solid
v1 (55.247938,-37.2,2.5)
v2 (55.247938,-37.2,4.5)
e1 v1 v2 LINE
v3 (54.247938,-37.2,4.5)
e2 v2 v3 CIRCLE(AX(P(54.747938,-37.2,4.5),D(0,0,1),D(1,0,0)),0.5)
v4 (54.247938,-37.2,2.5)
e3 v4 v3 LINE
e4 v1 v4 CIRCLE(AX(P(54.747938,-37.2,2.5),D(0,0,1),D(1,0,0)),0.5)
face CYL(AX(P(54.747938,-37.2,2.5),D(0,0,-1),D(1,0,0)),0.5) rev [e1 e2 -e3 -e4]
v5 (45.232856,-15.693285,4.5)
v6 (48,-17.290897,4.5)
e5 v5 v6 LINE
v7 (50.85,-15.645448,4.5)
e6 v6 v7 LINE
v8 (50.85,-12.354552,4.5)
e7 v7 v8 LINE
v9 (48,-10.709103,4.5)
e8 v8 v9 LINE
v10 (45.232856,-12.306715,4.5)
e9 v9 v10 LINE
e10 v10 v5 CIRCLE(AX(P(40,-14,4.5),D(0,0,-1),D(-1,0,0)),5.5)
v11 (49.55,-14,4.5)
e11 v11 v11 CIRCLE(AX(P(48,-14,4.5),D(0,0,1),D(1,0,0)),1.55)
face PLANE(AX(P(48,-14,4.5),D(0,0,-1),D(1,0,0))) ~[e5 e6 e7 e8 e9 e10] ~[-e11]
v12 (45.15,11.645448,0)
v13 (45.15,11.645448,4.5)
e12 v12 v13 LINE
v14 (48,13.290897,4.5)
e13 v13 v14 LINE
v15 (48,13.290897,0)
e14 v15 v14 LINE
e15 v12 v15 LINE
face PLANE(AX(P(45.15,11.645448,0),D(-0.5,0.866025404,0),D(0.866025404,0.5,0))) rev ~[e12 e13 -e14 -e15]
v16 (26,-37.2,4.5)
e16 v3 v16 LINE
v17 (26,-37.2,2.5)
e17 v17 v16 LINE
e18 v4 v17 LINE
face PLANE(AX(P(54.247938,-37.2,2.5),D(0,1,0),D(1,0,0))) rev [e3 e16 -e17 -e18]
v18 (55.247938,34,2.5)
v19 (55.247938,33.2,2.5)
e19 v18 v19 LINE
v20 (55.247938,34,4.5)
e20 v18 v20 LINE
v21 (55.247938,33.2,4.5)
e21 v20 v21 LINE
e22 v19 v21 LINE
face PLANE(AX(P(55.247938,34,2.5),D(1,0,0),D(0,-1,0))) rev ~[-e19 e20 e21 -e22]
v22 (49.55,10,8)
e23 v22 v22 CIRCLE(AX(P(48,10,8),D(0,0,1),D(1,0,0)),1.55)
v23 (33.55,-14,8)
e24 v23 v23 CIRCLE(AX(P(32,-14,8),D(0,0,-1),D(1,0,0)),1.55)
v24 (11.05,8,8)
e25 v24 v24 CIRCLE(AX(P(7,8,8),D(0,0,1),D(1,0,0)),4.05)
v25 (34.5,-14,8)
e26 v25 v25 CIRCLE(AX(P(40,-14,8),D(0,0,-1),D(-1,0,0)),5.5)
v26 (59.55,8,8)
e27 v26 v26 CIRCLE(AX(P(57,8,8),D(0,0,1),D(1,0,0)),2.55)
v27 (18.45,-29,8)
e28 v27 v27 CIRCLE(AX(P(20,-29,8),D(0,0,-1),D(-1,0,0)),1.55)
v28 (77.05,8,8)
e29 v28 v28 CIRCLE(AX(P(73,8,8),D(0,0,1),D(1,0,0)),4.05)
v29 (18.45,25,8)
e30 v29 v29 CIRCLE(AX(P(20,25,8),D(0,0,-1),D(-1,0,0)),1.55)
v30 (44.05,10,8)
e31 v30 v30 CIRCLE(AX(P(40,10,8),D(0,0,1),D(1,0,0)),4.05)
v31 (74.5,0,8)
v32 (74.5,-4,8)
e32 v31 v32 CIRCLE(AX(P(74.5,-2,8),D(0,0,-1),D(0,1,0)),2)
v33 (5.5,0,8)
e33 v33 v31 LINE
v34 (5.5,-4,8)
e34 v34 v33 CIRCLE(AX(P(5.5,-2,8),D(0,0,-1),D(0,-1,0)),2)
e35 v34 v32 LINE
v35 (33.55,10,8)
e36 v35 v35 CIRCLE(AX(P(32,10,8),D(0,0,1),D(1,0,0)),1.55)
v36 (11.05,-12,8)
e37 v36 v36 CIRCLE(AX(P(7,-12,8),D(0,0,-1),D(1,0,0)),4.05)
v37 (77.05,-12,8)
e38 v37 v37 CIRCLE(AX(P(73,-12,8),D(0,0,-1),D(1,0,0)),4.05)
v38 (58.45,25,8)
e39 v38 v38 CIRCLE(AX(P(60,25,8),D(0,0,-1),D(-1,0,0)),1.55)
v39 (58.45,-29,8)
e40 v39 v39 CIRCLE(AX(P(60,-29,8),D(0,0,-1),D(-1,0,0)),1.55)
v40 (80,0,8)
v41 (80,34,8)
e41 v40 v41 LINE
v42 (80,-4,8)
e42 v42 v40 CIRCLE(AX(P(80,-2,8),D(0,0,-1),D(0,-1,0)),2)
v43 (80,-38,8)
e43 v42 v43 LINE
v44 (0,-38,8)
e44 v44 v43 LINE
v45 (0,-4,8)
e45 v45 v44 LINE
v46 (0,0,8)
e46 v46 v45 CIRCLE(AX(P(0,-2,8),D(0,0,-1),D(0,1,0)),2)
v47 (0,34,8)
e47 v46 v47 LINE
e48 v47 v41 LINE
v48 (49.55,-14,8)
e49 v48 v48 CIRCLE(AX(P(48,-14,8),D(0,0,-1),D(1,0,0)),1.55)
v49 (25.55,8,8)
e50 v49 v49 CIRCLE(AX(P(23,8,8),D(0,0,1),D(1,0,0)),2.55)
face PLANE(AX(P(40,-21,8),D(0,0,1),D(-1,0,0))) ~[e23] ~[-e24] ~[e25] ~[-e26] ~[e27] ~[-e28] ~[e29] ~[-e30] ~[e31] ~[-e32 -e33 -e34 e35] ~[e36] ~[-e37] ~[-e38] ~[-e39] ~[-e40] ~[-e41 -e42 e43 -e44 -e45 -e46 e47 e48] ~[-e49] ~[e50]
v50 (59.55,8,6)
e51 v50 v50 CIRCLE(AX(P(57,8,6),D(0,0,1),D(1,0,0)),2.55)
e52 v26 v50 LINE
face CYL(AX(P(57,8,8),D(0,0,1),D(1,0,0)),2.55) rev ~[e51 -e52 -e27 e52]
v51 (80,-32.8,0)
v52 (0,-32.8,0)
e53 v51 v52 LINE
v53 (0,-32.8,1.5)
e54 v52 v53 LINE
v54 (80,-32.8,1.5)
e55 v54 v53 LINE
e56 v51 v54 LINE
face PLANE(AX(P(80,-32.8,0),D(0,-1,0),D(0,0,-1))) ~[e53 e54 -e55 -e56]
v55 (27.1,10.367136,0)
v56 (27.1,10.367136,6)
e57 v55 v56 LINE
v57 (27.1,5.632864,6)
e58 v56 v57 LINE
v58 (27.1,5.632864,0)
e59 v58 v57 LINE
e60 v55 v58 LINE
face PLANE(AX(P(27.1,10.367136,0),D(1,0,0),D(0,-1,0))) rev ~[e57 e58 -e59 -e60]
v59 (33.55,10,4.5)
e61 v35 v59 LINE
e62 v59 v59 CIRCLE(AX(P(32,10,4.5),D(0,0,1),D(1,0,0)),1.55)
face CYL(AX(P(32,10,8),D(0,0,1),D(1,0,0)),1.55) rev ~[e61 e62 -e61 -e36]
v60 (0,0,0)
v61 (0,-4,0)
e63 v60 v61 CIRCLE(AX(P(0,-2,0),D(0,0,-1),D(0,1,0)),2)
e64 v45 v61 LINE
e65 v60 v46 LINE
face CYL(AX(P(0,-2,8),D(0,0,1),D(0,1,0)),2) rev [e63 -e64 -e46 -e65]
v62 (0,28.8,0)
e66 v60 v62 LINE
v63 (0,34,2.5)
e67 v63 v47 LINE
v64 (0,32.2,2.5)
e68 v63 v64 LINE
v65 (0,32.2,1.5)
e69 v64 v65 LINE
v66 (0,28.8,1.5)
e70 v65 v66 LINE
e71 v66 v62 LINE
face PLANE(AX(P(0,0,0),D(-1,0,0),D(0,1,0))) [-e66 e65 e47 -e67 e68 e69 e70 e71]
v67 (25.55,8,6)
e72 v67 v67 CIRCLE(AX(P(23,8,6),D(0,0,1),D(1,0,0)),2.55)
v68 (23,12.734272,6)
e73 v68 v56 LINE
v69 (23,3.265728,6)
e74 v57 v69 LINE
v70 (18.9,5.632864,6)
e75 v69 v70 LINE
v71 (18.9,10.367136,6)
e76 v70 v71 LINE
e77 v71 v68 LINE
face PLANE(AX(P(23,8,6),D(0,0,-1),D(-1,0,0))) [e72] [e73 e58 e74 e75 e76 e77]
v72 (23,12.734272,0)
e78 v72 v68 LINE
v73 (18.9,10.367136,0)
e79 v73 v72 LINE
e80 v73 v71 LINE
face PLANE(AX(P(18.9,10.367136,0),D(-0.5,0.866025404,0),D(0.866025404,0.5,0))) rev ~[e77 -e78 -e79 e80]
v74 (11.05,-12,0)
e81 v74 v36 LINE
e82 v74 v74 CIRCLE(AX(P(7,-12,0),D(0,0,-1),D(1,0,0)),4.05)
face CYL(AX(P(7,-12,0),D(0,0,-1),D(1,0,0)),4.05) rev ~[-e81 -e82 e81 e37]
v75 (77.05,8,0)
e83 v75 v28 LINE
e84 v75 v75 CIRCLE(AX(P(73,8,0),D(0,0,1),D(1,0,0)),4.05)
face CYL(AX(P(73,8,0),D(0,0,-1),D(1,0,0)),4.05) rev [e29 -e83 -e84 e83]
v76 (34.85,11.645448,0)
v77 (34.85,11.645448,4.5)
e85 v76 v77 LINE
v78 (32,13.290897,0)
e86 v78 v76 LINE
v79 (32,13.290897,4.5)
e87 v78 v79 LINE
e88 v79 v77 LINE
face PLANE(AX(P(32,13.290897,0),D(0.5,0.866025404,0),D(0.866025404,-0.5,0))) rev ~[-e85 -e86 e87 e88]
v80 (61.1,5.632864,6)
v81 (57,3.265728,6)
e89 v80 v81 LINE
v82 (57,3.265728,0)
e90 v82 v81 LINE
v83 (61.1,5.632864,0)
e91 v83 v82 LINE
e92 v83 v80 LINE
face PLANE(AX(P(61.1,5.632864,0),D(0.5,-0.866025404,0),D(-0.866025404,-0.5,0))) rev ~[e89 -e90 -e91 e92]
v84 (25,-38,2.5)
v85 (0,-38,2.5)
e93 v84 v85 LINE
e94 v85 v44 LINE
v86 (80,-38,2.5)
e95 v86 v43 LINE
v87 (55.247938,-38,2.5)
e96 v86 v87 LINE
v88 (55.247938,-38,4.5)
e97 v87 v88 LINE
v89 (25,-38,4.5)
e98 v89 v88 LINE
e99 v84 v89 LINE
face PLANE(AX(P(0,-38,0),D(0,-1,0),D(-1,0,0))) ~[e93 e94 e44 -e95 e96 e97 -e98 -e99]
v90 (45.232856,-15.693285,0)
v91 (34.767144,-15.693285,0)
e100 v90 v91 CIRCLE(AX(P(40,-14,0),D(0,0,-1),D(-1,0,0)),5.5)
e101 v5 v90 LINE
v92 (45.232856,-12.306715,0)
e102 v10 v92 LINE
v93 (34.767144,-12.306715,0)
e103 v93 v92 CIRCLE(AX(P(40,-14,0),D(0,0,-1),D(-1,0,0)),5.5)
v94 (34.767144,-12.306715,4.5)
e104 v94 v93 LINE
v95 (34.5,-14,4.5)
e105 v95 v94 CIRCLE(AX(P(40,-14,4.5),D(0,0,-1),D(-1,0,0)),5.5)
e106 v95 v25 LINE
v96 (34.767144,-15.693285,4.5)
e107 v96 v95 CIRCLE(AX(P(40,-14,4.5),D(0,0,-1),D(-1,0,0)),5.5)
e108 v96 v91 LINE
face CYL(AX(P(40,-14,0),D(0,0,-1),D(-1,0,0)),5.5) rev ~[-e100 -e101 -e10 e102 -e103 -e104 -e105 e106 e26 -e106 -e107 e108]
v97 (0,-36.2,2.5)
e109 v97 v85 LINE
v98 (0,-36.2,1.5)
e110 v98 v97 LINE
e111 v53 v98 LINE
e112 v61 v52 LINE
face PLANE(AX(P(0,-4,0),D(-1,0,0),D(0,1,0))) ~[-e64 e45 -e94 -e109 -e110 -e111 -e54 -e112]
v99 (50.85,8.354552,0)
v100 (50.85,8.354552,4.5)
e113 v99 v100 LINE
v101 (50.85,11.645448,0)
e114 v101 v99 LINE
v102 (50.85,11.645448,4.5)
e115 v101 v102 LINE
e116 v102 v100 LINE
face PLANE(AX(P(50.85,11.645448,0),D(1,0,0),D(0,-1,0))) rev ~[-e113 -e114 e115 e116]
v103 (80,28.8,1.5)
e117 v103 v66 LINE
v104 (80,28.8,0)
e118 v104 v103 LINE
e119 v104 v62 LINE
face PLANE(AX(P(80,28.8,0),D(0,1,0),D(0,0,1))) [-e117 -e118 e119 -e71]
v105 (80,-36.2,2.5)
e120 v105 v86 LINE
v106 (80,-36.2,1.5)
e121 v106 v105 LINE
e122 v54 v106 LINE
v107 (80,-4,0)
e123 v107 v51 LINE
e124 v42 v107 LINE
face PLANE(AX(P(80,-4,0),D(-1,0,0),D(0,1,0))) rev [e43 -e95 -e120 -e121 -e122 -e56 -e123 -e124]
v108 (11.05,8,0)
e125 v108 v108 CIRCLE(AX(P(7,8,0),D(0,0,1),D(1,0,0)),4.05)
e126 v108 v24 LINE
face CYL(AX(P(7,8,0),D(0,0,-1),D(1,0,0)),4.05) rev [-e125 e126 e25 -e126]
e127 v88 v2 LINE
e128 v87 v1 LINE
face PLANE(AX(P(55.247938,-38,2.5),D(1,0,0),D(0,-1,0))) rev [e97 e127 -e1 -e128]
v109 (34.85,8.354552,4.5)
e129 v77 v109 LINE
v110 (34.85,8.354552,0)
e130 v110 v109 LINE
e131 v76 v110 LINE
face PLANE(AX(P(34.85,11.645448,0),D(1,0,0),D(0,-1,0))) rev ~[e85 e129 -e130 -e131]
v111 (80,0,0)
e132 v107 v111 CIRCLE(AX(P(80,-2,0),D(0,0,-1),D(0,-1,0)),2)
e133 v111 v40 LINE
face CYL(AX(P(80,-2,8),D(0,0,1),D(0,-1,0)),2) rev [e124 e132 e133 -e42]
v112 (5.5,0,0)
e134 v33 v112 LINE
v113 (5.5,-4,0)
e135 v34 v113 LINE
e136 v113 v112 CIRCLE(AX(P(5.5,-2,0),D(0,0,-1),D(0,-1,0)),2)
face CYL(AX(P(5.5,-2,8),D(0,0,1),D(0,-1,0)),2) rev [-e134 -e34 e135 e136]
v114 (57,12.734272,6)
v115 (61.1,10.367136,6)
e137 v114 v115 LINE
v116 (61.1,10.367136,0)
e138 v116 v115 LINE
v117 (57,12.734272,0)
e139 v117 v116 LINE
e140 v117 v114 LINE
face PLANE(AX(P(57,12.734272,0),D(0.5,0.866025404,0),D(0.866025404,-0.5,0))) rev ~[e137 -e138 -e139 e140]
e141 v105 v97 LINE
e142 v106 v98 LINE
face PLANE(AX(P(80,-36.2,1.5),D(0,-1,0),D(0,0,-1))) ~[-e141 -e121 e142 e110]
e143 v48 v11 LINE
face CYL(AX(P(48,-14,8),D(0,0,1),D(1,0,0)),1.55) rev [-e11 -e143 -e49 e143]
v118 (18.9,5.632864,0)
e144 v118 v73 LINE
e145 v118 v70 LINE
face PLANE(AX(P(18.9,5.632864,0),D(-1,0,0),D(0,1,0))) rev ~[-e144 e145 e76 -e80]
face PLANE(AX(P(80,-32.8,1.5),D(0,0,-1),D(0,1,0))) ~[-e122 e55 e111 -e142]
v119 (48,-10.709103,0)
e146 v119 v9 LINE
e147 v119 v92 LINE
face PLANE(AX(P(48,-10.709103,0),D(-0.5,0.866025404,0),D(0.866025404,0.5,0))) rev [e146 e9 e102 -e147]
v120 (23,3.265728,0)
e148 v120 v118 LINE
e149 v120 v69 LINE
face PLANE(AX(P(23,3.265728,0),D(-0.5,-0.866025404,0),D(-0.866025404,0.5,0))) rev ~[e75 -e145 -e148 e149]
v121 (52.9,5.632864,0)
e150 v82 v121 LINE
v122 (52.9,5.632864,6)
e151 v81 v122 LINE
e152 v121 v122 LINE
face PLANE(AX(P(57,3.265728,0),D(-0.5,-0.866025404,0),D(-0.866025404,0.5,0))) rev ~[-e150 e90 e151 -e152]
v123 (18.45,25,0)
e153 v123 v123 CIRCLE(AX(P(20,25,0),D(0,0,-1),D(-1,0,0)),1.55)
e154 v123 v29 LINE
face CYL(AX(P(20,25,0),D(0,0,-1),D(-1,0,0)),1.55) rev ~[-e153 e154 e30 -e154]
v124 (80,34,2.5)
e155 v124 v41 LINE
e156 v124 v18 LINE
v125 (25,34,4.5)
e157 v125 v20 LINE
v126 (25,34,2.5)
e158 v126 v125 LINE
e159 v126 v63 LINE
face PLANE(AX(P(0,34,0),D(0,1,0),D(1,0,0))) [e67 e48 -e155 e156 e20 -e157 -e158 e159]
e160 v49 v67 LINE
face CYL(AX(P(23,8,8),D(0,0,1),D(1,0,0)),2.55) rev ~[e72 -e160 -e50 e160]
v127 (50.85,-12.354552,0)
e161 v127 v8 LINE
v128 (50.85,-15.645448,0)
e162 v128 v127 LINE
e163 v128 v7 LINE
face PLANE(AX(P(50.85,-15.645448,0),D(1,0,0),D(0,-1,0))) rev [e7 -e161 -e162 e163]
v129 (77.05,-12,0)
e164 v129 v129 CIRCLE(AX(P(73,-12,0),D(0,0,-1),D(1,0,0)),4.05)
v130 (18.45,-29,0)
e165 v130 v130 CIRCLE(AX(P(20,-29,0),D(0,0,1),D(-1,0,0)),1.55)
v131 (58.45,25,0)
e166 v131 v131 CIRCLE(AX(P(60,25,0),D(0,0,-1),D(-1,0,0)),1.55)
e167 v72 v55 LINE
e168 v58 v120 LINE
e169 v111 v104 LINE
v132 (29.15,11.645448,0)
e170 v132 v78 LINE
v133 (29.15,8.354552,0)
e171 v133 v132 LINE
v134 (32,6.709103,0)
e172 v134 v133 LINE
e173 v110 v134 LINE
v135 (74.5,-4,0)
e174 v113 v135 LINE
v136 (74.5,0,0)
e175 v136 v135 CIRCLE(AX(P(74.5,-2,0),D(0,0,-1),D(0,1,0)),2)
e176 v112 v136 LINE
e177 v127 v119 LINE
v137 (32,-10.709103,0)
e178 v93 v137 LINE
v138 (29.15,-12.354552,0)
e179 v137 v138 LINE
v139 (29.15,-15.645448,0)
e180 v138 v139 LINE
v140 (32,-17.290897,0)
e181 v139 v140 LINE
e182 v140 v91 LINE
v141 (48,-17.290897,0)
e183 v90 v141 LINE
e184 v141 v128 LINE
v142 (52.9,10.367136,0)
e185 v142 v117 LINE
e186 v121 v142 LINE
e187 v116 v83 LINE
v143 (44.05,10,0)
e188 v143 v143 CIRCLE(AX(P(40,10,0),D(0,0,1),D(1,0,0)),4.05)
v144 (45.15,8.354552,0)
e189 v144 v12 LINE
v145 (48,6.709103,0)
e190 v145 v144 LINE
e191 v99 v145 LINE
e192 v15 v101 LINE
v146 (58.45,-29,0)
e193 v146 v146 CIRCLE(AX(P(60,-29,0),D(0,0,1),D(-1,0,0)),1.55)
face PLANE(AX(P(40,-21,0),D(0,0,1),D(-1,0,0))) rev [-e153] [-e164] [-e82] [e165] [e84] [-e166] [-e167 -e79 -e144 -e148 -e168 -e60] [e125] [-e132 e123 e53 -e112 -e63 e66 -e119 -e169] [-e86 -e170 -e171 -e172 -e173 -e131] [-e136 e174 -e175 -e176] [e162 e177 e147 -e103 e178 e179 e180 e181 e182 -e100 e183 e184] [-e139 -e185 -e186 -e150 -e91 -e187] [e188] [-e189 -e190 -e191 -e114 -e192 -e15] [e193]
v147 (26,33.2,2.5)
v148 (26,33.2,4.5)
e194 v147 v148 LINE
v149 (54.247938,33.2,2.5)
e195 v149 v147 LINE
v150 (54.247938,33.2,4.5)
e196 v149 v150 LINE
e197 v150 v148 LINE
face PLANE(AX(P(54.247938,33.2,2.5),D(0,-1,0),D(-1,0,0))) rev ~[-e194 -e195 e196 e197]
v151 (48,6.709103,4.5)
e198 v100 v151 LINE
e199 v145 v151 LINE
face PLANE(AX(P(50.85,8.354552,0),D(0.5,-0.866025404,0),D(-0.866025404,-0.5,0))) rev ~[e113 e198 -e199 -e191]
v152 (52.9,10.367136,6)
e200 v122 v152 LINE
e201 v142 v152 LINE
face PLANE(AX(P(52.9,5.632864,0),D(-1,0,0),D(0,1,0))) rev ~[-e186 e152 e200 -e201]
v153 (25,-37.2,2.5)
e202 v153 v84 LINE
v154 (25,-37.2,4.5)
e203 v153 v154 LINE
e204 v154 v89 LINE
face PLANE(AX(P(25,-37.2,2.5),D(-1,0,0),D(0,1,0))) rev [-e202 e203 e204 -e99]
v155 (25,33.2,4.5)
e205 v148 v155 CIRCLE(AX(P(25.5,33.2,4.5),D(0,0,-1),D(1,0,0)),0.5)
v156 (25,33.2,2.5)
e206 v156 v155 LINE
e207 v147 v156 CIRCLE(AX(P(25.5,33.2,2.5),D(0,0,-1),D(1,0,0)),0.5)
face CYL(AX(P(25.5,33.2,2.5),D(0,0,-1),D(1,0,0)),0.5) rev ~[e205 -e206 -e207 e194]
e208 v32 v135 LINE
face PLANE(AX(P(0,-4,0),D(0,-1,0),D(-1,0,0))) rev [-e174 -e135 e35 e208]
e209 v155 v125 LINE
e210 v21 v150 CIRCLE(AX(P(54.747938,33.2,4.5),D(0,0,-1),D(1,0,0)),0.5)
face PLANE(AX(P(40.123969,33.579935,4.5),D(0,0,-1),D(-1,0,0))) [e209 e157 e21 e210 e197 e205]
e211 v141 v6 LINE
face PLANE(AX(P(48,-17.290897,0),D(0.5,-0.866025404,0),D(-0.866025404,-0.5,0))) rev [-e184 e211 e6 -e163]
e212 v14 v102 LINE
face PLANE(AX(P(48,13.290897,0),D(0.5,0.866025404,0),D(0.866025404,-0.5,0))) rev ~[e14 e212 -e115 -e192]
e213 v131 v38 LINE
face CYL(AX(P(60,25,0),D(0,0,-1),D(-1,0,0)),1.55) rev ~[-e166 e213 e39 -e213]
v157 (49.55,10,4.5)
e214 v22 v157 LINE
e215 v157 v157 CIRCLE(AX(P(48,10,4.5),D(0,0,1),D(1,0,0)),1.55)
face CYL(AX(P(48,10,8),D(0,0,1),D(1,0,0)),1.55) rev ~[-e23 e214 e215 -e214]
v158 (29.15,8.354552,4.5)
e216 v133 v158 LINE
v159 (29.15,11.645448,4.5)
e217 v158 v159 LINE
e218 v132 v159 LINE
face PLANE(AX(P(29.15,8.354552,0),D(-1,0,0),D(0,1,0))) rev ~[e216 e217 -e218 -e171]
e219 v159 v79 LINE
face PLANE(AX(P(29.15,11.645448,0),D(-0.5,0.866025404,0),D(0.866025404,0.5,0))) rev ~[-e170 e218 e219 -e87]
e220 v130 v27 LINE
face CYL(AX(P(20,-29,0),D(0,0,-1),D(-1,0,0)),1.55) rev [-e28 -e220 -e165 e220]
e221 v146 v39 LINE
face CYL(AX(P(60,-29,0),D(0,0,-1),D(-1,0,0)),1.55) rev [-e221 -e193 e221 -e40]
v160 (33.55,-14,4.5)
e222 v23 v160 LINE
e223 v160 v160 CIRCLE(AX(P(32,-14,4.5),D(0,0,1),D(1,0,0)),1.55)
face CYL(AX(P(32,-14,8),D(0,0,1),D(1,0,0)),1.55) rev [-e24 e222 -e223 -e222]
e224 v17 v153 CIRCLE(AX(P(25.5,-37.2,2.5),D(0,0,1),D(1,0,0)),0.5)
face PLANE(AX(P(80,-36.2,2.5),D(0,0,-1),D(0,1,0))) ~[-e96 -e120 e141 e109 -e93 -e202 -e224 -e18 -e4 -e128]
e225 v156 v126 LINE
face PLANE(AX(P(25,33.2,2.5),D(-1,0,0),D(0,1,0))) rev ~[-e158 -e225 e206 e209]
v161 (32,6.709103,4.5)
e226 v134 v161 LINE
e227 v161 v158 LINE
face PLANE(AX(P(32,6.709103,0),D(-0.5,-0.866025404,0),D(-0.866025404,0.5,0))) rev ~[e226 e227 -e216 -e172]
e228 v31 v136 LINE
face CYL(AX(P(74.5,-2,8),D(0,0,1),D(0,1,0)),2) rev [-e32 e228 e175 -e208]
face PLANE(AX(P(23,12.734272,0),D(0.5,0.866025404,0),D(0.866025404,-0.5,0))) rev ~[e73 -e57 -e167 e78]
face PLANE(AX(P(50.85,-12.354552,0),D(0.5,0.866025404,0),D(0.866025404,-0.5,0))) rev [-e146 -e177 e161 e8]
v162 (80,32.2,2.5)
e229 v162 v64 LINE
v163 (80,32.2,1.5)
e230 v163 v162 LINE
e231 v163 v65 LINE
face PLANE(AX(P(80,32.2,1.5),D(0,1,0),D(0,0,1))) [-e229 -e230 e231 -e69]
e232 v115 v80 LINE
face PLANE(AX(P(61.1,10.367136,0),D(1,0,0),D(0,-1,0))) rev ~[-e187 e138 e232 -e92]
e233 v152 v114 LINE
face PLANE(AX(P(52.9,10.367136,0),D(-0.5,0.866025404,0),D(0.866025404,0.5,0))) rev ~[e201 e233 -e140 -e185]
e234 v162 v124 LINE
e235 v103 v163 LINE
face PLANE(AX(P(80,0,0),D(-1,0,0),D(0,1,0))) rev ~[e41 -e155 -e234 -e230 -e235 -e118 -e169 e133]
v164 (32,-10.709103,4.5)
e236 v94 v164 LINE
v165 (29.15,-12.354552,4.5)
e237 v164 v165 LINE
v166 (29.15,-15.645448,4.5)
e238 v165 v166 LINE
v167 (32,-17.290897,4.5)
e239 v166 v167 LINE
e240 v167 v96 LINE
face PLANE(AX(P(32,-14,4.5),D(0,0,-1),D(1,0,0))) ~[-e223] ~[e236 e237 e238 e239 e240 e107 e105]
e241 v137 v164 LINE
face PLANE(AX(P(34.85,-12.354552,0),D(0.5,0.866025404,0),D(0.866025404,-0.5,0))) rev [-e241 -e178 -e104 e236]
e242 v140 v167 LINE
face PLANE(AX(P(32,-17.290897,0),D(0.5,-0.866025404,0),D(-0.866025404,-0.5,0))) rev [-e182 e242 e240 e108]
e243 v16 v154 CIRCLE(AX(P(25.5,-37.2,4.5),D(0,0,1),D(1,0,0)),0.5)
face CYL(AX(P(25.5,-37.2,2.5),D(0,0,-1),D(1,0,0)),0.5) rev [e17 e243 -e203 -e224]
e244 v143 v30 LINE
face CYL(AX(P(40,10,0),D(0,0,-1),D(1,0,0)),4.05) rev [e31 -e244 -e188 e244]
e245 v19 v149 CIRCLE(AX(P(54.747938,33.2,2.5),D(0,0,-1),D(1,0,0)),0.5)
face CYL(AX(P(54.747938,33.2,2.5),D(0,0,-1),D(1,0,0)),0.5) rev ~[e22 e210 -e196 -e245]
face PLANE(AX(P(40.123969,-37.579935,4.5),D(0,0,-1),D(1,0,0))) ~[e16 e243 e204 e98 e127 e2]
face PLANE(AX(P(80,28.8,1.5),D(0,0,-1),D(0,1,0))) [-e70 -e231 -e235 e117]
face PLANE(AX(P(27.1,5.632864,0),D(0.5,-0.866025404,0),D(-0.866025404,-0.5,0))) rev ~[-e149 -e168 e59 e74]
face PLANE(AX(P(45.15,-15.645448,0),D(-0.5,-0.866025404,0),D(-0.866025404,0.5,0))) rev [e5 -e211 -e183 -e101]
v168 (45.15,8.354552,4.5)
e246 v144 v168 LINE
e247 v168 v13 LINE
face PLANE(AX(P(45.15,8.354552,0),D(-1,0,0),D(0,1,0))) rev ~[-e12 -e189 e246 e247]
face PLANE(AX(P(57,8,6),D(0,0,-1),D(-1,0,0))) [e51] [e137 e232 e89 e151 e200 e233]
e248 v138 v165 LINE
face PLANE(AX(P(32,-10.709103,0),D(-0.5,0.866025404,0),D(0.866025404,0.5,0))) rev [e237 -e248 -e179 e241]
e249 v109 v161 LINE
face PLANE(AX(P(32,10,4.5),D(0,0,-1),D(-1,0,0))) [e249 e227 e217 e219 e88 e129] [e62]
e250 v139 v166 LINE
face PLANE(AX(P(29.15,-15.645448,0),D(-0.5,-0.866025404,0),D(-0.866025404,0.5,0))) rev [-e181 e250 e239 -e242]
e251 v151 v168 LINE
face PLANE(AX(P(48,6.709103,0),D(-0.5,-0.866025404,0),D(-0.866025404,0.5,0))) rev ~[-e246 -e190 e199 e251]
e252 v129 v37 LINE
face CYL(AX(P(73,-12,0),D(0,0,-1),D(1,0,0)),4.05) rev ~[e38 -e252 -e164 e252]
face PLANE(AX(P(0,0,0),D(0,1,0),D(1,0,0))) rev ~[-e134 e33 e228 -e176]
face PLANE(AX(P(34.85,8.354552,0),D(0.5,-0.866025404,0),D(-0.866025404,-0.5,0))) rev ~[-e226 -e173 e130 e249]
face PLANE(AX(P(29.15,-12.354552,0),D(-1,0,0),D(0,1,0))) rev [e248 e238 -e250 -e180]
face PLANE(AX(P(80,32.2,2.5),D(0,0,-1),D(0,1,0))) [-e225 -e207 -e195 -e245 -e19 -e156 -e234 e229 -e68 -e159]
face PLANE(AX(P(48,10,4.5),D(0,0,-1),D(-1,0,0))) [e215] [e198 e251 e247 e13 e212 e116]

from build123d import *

# Parameters (mm, degrees)
SKETCH_2_W           = 80
SKETCH_2_H           = 34
SKETCH_2_R           = 4.05
EXTRUDE_1_DEPTH      = 8
SKETCH_3_R           = 2.55
CUT_EXTRUDE_1_DEPTH  = 88.292611371
CUT_EXTRUDE_2_DEPTH  = 88.292611371
SKETCH_5_R           = 1.55
CUT_EXTRUDE_3_DEPTH  = 88.292611371
CUT_EXTRUDE_4_DEPTH  = 6
CUT_EXTRUDE_5_DEPTH  = 4.5
SKETCH_25_R          = 1.55
CUT_EXTRUDE_13_DEPTH = 88.292611371
CUT_EXTRUDE_11_DEPTH = 2
EXTRUDE_2_DEPTH      = 8
SKETCH_26_R          = 5.5
CUT_EXTRUDE_14_DEPTH = 89.926936302


with BuildPart() as part:
    # 草图2 → 凸台-拉伸1 (new body)
    with BuildSketch(Plane.XY):
        with Locations((40, 17)):
            Rectangle(SKETCH_2_W, SKETCH_2_H)
        with Locations((7, 8)):
            Circle(SKETCH_2_R, mode=Mode.SUBTRACT)
        with Locations((40, 10)):
            Circle(SKETCH_2_R, mode=Mode.SUBTRACT)
        with Locations((73, 8)):
            Circle(SKETCH_2_R, mode=Mode.SUBTRACT)
    extrude_1 = extrude(amount=EXTRUDE_1_DEPTH)

    # 草图3 → 切除-拉伸1 (cut, through all)
    with BuildSketch(Plane.XY.offset(8)):
        with Locations((23, 8)):
            Circle(SKETCH_3_R)
        with Locations((57, 8)):
            Circle(SKETCH_3_R)
    extrude(amount=-CUT_EXTRUDE_1_DEPTH, mode=Mode.SUBTRACT)

    # 草图4 → 切除-拉伸2 (cut, through all)
    with BuildSketch(Plane(origin=(80, 0, 0), x_dir=(0, 0, -1), z_dir=(1, 0, 0))):
        Polygon((-1.5, 32.2), (-2.5, 32.2), (-2.5, 34), (0, 34), (0, 28.8), (-1.5, 28.8), align=None)
    cut_extrude_2 = extrude(amount=-CUT_EXTRUDE_2_DEPTH, mode=Mode.SUBTRACT)

    # 草图5 → 切除-拉伸3 (cut, through all)
    with BuildSketch(Plane.XY.offset(8)):
        with Locations((48, 10)):
            Circle(SKETCH_5_R)
        with Locations((32, 10)):
            Circle(SKETCH_5_R)
    cut_extrude_3 = extrude(amount=-CUT_EXTRUDE_3_DEPTH, mode=Mode.SUBTRACT)

    # 草图7 → 切除-拉伸4 (cut)
    with BuildSketch(Plane(origin=(0, 0, 0), x_dir=(-1, 0, 0), z_dir=(0, 0, -1))):
        Polygon((-52.9, 5.632863896), (-52.9, 10.367136104), (-57, 12.734272207), (-61.1, 10.367136104), (-61.1, 5.632863896), (-57, 3.265727793), align=None)
        Polygon((-27.1, 5.632863896), (-23, 3.265727793), (-18.9, 5.632863896), (-18.9, 10.367136104), (-23, 12.734272207), (-27.1, 10.367136104), align=None)
    extrude(amount=-CUT_EXTRUDE_4_DEPTH, mode=Mode.SUBTRACT)

    # 草图8 → 切除-拉伸5 (cut)
    with BuildSketch(Plane(origin=(0, 0, 0), x_dir=(-1, 0, 0), z_dir=(0, 0, -1))):
        Polygon((-48, 6.709103466), (-45.15, 8.354551733), (-45.15, 11.645448267), (-48, 13.290896534), (-50.85, 11.645448267), (-50.85, 8.354551733), align=None)
        Polygon((-32, 6.709103466), (-29.15, 8.354551733), (-29.15, 11.645448267), (-32, 13.290896534), (-34.85, 11.645448267), (-34.85, 8.354551733), align=None)
    cut_extrude_5 = extrude(amount=-CUT_EXTRUDE_5_DEPTH, mode=Mode.SUBTRACT)

    # 草图25 → 切除-拉伸13 (cut, through all)
    with BuildSketch(Plane(origin=(0, 0, 0), x_dir=(-1, 0, 0), z_dir=(0, 0, -1))):
        with Locations((-60, 25)):
            Circle(SKETCH_25_R)
        with Locations((-20, 25)):
            Circle(SKETCH_25_R)
    cut_extrude_13 = extrude(amount=-CUT_EXTRUDE_13_DEPTH, mode=Mode.SUBTRACT)

    # 草图19 → 切除-拉伸11 (cut)
    with BuildSketch(Plane(origin=(0, 0, 2.5), x_dir=(-1, 0, 0), z_dir=(0, 0, -1))):
        with BuildLine():
            Line((-25, 34), (-55.247938178, 34))
            Line((-55.247938178, 34), (-55.247938178, 33.2))
            ThreePointArc((-55.247938178, 33.2), (-54.747938178, 32.7), (-54.247938178, 33.2))
            Line((-54.247938178, 33.2), (-26, 33.2))
            ThreePointArc((-26, 33.2), (-25.5, 32.7), (-25, 33.2))
            Line((-25, 33.2), (-25, 34))
        make_face()
    cut_extrude_11 = extrude(amount=-CUT_EXTRUDE_11_DEPTH, mode=Mode.SUBTRACT)

    # 草图22 → 凸台-拉伸2 (add)
    with BuildSketch(Plane.XY.offset(8)):
        with BuildLine():
            Line((0, -4), (5.5, -4))
            ThreePointArc((5.5, -4), (3.5, -2), (5.5, 0))
            Line((5.5, 0), (0, 0))
            ThreePointArc((0, 0), (2, -2), (0, -4))
        make_face()
        with BuildLine():
            Line((80, 0), (74.5, 0))
            ThreePointArc((74.5, 0), (76.5, -2), (74.5, -4))
            Line((74.5, -4), (80, -4))
            ThreePointArc((80, -4), (78, -2), (80, 0))
        make_face()
    extrude(amount=-EXTRUDE_2_DEPTH)

    # 镜向2: 凸台-拉伸1, 切除-拉伸2, 切除-拉伸3, 切除-拉伸5, 切除-拉伸13, 切除-拉伸11 across plane
    add(extrude_1.mirror(Plane(origin=(0, -2, 0), x_dir=(0, 0, 1), z_dir=(0, -1, 0))))
    add(cut_extrude_2.mirror(Plane(origin=(0, -2, 0), x_dir=(0, 0, 1), z_dir=(0, -1, 0))), mode=Mode.SUBTRACT)
    add(cut_extrude_3.mirror(Plane(origin=(0, -2, 0), x_dir=(0, 0, 1), z_dir=(0, -1, 0))), mode=Mode.SUBTRACT)
    add(cut_extrude_5.mirror(Plane(origin=(0, -2, 0), x_dir=(0, 0, 1), z_dir=(0, -1, 0))), mode=Mode.SUBTRACT)
    add(cut_extrude_13.mirror(Plane(origin=(0, -2, 0), x_dir=(0, 0, 1), z_dir=(0, -1, 0))), mode=Mode.SUBTRACT)
    add(cut_extrude_11.mirror(Plane(origin=(0, -2, 0), x_dir=(0, 0, 1), z_dir=(0, -1, 0))), mode=Mode.SUBTRACT)

    # 草图26 → 切除-拉伸14 (cut, through all)
    with BuildSketch(Plane(origin=(0, 0, 0), x_dir=(-1, 0, 0), z_dir=(0, 0, -1))):
        with Locations((-40, -14)):
            Circle(SKETCH_26_R)
    extrude(amount=-CUT_EXTRUDE_14_DEPTH, mode=Mode.SUBTRACT)


solid = part.part
